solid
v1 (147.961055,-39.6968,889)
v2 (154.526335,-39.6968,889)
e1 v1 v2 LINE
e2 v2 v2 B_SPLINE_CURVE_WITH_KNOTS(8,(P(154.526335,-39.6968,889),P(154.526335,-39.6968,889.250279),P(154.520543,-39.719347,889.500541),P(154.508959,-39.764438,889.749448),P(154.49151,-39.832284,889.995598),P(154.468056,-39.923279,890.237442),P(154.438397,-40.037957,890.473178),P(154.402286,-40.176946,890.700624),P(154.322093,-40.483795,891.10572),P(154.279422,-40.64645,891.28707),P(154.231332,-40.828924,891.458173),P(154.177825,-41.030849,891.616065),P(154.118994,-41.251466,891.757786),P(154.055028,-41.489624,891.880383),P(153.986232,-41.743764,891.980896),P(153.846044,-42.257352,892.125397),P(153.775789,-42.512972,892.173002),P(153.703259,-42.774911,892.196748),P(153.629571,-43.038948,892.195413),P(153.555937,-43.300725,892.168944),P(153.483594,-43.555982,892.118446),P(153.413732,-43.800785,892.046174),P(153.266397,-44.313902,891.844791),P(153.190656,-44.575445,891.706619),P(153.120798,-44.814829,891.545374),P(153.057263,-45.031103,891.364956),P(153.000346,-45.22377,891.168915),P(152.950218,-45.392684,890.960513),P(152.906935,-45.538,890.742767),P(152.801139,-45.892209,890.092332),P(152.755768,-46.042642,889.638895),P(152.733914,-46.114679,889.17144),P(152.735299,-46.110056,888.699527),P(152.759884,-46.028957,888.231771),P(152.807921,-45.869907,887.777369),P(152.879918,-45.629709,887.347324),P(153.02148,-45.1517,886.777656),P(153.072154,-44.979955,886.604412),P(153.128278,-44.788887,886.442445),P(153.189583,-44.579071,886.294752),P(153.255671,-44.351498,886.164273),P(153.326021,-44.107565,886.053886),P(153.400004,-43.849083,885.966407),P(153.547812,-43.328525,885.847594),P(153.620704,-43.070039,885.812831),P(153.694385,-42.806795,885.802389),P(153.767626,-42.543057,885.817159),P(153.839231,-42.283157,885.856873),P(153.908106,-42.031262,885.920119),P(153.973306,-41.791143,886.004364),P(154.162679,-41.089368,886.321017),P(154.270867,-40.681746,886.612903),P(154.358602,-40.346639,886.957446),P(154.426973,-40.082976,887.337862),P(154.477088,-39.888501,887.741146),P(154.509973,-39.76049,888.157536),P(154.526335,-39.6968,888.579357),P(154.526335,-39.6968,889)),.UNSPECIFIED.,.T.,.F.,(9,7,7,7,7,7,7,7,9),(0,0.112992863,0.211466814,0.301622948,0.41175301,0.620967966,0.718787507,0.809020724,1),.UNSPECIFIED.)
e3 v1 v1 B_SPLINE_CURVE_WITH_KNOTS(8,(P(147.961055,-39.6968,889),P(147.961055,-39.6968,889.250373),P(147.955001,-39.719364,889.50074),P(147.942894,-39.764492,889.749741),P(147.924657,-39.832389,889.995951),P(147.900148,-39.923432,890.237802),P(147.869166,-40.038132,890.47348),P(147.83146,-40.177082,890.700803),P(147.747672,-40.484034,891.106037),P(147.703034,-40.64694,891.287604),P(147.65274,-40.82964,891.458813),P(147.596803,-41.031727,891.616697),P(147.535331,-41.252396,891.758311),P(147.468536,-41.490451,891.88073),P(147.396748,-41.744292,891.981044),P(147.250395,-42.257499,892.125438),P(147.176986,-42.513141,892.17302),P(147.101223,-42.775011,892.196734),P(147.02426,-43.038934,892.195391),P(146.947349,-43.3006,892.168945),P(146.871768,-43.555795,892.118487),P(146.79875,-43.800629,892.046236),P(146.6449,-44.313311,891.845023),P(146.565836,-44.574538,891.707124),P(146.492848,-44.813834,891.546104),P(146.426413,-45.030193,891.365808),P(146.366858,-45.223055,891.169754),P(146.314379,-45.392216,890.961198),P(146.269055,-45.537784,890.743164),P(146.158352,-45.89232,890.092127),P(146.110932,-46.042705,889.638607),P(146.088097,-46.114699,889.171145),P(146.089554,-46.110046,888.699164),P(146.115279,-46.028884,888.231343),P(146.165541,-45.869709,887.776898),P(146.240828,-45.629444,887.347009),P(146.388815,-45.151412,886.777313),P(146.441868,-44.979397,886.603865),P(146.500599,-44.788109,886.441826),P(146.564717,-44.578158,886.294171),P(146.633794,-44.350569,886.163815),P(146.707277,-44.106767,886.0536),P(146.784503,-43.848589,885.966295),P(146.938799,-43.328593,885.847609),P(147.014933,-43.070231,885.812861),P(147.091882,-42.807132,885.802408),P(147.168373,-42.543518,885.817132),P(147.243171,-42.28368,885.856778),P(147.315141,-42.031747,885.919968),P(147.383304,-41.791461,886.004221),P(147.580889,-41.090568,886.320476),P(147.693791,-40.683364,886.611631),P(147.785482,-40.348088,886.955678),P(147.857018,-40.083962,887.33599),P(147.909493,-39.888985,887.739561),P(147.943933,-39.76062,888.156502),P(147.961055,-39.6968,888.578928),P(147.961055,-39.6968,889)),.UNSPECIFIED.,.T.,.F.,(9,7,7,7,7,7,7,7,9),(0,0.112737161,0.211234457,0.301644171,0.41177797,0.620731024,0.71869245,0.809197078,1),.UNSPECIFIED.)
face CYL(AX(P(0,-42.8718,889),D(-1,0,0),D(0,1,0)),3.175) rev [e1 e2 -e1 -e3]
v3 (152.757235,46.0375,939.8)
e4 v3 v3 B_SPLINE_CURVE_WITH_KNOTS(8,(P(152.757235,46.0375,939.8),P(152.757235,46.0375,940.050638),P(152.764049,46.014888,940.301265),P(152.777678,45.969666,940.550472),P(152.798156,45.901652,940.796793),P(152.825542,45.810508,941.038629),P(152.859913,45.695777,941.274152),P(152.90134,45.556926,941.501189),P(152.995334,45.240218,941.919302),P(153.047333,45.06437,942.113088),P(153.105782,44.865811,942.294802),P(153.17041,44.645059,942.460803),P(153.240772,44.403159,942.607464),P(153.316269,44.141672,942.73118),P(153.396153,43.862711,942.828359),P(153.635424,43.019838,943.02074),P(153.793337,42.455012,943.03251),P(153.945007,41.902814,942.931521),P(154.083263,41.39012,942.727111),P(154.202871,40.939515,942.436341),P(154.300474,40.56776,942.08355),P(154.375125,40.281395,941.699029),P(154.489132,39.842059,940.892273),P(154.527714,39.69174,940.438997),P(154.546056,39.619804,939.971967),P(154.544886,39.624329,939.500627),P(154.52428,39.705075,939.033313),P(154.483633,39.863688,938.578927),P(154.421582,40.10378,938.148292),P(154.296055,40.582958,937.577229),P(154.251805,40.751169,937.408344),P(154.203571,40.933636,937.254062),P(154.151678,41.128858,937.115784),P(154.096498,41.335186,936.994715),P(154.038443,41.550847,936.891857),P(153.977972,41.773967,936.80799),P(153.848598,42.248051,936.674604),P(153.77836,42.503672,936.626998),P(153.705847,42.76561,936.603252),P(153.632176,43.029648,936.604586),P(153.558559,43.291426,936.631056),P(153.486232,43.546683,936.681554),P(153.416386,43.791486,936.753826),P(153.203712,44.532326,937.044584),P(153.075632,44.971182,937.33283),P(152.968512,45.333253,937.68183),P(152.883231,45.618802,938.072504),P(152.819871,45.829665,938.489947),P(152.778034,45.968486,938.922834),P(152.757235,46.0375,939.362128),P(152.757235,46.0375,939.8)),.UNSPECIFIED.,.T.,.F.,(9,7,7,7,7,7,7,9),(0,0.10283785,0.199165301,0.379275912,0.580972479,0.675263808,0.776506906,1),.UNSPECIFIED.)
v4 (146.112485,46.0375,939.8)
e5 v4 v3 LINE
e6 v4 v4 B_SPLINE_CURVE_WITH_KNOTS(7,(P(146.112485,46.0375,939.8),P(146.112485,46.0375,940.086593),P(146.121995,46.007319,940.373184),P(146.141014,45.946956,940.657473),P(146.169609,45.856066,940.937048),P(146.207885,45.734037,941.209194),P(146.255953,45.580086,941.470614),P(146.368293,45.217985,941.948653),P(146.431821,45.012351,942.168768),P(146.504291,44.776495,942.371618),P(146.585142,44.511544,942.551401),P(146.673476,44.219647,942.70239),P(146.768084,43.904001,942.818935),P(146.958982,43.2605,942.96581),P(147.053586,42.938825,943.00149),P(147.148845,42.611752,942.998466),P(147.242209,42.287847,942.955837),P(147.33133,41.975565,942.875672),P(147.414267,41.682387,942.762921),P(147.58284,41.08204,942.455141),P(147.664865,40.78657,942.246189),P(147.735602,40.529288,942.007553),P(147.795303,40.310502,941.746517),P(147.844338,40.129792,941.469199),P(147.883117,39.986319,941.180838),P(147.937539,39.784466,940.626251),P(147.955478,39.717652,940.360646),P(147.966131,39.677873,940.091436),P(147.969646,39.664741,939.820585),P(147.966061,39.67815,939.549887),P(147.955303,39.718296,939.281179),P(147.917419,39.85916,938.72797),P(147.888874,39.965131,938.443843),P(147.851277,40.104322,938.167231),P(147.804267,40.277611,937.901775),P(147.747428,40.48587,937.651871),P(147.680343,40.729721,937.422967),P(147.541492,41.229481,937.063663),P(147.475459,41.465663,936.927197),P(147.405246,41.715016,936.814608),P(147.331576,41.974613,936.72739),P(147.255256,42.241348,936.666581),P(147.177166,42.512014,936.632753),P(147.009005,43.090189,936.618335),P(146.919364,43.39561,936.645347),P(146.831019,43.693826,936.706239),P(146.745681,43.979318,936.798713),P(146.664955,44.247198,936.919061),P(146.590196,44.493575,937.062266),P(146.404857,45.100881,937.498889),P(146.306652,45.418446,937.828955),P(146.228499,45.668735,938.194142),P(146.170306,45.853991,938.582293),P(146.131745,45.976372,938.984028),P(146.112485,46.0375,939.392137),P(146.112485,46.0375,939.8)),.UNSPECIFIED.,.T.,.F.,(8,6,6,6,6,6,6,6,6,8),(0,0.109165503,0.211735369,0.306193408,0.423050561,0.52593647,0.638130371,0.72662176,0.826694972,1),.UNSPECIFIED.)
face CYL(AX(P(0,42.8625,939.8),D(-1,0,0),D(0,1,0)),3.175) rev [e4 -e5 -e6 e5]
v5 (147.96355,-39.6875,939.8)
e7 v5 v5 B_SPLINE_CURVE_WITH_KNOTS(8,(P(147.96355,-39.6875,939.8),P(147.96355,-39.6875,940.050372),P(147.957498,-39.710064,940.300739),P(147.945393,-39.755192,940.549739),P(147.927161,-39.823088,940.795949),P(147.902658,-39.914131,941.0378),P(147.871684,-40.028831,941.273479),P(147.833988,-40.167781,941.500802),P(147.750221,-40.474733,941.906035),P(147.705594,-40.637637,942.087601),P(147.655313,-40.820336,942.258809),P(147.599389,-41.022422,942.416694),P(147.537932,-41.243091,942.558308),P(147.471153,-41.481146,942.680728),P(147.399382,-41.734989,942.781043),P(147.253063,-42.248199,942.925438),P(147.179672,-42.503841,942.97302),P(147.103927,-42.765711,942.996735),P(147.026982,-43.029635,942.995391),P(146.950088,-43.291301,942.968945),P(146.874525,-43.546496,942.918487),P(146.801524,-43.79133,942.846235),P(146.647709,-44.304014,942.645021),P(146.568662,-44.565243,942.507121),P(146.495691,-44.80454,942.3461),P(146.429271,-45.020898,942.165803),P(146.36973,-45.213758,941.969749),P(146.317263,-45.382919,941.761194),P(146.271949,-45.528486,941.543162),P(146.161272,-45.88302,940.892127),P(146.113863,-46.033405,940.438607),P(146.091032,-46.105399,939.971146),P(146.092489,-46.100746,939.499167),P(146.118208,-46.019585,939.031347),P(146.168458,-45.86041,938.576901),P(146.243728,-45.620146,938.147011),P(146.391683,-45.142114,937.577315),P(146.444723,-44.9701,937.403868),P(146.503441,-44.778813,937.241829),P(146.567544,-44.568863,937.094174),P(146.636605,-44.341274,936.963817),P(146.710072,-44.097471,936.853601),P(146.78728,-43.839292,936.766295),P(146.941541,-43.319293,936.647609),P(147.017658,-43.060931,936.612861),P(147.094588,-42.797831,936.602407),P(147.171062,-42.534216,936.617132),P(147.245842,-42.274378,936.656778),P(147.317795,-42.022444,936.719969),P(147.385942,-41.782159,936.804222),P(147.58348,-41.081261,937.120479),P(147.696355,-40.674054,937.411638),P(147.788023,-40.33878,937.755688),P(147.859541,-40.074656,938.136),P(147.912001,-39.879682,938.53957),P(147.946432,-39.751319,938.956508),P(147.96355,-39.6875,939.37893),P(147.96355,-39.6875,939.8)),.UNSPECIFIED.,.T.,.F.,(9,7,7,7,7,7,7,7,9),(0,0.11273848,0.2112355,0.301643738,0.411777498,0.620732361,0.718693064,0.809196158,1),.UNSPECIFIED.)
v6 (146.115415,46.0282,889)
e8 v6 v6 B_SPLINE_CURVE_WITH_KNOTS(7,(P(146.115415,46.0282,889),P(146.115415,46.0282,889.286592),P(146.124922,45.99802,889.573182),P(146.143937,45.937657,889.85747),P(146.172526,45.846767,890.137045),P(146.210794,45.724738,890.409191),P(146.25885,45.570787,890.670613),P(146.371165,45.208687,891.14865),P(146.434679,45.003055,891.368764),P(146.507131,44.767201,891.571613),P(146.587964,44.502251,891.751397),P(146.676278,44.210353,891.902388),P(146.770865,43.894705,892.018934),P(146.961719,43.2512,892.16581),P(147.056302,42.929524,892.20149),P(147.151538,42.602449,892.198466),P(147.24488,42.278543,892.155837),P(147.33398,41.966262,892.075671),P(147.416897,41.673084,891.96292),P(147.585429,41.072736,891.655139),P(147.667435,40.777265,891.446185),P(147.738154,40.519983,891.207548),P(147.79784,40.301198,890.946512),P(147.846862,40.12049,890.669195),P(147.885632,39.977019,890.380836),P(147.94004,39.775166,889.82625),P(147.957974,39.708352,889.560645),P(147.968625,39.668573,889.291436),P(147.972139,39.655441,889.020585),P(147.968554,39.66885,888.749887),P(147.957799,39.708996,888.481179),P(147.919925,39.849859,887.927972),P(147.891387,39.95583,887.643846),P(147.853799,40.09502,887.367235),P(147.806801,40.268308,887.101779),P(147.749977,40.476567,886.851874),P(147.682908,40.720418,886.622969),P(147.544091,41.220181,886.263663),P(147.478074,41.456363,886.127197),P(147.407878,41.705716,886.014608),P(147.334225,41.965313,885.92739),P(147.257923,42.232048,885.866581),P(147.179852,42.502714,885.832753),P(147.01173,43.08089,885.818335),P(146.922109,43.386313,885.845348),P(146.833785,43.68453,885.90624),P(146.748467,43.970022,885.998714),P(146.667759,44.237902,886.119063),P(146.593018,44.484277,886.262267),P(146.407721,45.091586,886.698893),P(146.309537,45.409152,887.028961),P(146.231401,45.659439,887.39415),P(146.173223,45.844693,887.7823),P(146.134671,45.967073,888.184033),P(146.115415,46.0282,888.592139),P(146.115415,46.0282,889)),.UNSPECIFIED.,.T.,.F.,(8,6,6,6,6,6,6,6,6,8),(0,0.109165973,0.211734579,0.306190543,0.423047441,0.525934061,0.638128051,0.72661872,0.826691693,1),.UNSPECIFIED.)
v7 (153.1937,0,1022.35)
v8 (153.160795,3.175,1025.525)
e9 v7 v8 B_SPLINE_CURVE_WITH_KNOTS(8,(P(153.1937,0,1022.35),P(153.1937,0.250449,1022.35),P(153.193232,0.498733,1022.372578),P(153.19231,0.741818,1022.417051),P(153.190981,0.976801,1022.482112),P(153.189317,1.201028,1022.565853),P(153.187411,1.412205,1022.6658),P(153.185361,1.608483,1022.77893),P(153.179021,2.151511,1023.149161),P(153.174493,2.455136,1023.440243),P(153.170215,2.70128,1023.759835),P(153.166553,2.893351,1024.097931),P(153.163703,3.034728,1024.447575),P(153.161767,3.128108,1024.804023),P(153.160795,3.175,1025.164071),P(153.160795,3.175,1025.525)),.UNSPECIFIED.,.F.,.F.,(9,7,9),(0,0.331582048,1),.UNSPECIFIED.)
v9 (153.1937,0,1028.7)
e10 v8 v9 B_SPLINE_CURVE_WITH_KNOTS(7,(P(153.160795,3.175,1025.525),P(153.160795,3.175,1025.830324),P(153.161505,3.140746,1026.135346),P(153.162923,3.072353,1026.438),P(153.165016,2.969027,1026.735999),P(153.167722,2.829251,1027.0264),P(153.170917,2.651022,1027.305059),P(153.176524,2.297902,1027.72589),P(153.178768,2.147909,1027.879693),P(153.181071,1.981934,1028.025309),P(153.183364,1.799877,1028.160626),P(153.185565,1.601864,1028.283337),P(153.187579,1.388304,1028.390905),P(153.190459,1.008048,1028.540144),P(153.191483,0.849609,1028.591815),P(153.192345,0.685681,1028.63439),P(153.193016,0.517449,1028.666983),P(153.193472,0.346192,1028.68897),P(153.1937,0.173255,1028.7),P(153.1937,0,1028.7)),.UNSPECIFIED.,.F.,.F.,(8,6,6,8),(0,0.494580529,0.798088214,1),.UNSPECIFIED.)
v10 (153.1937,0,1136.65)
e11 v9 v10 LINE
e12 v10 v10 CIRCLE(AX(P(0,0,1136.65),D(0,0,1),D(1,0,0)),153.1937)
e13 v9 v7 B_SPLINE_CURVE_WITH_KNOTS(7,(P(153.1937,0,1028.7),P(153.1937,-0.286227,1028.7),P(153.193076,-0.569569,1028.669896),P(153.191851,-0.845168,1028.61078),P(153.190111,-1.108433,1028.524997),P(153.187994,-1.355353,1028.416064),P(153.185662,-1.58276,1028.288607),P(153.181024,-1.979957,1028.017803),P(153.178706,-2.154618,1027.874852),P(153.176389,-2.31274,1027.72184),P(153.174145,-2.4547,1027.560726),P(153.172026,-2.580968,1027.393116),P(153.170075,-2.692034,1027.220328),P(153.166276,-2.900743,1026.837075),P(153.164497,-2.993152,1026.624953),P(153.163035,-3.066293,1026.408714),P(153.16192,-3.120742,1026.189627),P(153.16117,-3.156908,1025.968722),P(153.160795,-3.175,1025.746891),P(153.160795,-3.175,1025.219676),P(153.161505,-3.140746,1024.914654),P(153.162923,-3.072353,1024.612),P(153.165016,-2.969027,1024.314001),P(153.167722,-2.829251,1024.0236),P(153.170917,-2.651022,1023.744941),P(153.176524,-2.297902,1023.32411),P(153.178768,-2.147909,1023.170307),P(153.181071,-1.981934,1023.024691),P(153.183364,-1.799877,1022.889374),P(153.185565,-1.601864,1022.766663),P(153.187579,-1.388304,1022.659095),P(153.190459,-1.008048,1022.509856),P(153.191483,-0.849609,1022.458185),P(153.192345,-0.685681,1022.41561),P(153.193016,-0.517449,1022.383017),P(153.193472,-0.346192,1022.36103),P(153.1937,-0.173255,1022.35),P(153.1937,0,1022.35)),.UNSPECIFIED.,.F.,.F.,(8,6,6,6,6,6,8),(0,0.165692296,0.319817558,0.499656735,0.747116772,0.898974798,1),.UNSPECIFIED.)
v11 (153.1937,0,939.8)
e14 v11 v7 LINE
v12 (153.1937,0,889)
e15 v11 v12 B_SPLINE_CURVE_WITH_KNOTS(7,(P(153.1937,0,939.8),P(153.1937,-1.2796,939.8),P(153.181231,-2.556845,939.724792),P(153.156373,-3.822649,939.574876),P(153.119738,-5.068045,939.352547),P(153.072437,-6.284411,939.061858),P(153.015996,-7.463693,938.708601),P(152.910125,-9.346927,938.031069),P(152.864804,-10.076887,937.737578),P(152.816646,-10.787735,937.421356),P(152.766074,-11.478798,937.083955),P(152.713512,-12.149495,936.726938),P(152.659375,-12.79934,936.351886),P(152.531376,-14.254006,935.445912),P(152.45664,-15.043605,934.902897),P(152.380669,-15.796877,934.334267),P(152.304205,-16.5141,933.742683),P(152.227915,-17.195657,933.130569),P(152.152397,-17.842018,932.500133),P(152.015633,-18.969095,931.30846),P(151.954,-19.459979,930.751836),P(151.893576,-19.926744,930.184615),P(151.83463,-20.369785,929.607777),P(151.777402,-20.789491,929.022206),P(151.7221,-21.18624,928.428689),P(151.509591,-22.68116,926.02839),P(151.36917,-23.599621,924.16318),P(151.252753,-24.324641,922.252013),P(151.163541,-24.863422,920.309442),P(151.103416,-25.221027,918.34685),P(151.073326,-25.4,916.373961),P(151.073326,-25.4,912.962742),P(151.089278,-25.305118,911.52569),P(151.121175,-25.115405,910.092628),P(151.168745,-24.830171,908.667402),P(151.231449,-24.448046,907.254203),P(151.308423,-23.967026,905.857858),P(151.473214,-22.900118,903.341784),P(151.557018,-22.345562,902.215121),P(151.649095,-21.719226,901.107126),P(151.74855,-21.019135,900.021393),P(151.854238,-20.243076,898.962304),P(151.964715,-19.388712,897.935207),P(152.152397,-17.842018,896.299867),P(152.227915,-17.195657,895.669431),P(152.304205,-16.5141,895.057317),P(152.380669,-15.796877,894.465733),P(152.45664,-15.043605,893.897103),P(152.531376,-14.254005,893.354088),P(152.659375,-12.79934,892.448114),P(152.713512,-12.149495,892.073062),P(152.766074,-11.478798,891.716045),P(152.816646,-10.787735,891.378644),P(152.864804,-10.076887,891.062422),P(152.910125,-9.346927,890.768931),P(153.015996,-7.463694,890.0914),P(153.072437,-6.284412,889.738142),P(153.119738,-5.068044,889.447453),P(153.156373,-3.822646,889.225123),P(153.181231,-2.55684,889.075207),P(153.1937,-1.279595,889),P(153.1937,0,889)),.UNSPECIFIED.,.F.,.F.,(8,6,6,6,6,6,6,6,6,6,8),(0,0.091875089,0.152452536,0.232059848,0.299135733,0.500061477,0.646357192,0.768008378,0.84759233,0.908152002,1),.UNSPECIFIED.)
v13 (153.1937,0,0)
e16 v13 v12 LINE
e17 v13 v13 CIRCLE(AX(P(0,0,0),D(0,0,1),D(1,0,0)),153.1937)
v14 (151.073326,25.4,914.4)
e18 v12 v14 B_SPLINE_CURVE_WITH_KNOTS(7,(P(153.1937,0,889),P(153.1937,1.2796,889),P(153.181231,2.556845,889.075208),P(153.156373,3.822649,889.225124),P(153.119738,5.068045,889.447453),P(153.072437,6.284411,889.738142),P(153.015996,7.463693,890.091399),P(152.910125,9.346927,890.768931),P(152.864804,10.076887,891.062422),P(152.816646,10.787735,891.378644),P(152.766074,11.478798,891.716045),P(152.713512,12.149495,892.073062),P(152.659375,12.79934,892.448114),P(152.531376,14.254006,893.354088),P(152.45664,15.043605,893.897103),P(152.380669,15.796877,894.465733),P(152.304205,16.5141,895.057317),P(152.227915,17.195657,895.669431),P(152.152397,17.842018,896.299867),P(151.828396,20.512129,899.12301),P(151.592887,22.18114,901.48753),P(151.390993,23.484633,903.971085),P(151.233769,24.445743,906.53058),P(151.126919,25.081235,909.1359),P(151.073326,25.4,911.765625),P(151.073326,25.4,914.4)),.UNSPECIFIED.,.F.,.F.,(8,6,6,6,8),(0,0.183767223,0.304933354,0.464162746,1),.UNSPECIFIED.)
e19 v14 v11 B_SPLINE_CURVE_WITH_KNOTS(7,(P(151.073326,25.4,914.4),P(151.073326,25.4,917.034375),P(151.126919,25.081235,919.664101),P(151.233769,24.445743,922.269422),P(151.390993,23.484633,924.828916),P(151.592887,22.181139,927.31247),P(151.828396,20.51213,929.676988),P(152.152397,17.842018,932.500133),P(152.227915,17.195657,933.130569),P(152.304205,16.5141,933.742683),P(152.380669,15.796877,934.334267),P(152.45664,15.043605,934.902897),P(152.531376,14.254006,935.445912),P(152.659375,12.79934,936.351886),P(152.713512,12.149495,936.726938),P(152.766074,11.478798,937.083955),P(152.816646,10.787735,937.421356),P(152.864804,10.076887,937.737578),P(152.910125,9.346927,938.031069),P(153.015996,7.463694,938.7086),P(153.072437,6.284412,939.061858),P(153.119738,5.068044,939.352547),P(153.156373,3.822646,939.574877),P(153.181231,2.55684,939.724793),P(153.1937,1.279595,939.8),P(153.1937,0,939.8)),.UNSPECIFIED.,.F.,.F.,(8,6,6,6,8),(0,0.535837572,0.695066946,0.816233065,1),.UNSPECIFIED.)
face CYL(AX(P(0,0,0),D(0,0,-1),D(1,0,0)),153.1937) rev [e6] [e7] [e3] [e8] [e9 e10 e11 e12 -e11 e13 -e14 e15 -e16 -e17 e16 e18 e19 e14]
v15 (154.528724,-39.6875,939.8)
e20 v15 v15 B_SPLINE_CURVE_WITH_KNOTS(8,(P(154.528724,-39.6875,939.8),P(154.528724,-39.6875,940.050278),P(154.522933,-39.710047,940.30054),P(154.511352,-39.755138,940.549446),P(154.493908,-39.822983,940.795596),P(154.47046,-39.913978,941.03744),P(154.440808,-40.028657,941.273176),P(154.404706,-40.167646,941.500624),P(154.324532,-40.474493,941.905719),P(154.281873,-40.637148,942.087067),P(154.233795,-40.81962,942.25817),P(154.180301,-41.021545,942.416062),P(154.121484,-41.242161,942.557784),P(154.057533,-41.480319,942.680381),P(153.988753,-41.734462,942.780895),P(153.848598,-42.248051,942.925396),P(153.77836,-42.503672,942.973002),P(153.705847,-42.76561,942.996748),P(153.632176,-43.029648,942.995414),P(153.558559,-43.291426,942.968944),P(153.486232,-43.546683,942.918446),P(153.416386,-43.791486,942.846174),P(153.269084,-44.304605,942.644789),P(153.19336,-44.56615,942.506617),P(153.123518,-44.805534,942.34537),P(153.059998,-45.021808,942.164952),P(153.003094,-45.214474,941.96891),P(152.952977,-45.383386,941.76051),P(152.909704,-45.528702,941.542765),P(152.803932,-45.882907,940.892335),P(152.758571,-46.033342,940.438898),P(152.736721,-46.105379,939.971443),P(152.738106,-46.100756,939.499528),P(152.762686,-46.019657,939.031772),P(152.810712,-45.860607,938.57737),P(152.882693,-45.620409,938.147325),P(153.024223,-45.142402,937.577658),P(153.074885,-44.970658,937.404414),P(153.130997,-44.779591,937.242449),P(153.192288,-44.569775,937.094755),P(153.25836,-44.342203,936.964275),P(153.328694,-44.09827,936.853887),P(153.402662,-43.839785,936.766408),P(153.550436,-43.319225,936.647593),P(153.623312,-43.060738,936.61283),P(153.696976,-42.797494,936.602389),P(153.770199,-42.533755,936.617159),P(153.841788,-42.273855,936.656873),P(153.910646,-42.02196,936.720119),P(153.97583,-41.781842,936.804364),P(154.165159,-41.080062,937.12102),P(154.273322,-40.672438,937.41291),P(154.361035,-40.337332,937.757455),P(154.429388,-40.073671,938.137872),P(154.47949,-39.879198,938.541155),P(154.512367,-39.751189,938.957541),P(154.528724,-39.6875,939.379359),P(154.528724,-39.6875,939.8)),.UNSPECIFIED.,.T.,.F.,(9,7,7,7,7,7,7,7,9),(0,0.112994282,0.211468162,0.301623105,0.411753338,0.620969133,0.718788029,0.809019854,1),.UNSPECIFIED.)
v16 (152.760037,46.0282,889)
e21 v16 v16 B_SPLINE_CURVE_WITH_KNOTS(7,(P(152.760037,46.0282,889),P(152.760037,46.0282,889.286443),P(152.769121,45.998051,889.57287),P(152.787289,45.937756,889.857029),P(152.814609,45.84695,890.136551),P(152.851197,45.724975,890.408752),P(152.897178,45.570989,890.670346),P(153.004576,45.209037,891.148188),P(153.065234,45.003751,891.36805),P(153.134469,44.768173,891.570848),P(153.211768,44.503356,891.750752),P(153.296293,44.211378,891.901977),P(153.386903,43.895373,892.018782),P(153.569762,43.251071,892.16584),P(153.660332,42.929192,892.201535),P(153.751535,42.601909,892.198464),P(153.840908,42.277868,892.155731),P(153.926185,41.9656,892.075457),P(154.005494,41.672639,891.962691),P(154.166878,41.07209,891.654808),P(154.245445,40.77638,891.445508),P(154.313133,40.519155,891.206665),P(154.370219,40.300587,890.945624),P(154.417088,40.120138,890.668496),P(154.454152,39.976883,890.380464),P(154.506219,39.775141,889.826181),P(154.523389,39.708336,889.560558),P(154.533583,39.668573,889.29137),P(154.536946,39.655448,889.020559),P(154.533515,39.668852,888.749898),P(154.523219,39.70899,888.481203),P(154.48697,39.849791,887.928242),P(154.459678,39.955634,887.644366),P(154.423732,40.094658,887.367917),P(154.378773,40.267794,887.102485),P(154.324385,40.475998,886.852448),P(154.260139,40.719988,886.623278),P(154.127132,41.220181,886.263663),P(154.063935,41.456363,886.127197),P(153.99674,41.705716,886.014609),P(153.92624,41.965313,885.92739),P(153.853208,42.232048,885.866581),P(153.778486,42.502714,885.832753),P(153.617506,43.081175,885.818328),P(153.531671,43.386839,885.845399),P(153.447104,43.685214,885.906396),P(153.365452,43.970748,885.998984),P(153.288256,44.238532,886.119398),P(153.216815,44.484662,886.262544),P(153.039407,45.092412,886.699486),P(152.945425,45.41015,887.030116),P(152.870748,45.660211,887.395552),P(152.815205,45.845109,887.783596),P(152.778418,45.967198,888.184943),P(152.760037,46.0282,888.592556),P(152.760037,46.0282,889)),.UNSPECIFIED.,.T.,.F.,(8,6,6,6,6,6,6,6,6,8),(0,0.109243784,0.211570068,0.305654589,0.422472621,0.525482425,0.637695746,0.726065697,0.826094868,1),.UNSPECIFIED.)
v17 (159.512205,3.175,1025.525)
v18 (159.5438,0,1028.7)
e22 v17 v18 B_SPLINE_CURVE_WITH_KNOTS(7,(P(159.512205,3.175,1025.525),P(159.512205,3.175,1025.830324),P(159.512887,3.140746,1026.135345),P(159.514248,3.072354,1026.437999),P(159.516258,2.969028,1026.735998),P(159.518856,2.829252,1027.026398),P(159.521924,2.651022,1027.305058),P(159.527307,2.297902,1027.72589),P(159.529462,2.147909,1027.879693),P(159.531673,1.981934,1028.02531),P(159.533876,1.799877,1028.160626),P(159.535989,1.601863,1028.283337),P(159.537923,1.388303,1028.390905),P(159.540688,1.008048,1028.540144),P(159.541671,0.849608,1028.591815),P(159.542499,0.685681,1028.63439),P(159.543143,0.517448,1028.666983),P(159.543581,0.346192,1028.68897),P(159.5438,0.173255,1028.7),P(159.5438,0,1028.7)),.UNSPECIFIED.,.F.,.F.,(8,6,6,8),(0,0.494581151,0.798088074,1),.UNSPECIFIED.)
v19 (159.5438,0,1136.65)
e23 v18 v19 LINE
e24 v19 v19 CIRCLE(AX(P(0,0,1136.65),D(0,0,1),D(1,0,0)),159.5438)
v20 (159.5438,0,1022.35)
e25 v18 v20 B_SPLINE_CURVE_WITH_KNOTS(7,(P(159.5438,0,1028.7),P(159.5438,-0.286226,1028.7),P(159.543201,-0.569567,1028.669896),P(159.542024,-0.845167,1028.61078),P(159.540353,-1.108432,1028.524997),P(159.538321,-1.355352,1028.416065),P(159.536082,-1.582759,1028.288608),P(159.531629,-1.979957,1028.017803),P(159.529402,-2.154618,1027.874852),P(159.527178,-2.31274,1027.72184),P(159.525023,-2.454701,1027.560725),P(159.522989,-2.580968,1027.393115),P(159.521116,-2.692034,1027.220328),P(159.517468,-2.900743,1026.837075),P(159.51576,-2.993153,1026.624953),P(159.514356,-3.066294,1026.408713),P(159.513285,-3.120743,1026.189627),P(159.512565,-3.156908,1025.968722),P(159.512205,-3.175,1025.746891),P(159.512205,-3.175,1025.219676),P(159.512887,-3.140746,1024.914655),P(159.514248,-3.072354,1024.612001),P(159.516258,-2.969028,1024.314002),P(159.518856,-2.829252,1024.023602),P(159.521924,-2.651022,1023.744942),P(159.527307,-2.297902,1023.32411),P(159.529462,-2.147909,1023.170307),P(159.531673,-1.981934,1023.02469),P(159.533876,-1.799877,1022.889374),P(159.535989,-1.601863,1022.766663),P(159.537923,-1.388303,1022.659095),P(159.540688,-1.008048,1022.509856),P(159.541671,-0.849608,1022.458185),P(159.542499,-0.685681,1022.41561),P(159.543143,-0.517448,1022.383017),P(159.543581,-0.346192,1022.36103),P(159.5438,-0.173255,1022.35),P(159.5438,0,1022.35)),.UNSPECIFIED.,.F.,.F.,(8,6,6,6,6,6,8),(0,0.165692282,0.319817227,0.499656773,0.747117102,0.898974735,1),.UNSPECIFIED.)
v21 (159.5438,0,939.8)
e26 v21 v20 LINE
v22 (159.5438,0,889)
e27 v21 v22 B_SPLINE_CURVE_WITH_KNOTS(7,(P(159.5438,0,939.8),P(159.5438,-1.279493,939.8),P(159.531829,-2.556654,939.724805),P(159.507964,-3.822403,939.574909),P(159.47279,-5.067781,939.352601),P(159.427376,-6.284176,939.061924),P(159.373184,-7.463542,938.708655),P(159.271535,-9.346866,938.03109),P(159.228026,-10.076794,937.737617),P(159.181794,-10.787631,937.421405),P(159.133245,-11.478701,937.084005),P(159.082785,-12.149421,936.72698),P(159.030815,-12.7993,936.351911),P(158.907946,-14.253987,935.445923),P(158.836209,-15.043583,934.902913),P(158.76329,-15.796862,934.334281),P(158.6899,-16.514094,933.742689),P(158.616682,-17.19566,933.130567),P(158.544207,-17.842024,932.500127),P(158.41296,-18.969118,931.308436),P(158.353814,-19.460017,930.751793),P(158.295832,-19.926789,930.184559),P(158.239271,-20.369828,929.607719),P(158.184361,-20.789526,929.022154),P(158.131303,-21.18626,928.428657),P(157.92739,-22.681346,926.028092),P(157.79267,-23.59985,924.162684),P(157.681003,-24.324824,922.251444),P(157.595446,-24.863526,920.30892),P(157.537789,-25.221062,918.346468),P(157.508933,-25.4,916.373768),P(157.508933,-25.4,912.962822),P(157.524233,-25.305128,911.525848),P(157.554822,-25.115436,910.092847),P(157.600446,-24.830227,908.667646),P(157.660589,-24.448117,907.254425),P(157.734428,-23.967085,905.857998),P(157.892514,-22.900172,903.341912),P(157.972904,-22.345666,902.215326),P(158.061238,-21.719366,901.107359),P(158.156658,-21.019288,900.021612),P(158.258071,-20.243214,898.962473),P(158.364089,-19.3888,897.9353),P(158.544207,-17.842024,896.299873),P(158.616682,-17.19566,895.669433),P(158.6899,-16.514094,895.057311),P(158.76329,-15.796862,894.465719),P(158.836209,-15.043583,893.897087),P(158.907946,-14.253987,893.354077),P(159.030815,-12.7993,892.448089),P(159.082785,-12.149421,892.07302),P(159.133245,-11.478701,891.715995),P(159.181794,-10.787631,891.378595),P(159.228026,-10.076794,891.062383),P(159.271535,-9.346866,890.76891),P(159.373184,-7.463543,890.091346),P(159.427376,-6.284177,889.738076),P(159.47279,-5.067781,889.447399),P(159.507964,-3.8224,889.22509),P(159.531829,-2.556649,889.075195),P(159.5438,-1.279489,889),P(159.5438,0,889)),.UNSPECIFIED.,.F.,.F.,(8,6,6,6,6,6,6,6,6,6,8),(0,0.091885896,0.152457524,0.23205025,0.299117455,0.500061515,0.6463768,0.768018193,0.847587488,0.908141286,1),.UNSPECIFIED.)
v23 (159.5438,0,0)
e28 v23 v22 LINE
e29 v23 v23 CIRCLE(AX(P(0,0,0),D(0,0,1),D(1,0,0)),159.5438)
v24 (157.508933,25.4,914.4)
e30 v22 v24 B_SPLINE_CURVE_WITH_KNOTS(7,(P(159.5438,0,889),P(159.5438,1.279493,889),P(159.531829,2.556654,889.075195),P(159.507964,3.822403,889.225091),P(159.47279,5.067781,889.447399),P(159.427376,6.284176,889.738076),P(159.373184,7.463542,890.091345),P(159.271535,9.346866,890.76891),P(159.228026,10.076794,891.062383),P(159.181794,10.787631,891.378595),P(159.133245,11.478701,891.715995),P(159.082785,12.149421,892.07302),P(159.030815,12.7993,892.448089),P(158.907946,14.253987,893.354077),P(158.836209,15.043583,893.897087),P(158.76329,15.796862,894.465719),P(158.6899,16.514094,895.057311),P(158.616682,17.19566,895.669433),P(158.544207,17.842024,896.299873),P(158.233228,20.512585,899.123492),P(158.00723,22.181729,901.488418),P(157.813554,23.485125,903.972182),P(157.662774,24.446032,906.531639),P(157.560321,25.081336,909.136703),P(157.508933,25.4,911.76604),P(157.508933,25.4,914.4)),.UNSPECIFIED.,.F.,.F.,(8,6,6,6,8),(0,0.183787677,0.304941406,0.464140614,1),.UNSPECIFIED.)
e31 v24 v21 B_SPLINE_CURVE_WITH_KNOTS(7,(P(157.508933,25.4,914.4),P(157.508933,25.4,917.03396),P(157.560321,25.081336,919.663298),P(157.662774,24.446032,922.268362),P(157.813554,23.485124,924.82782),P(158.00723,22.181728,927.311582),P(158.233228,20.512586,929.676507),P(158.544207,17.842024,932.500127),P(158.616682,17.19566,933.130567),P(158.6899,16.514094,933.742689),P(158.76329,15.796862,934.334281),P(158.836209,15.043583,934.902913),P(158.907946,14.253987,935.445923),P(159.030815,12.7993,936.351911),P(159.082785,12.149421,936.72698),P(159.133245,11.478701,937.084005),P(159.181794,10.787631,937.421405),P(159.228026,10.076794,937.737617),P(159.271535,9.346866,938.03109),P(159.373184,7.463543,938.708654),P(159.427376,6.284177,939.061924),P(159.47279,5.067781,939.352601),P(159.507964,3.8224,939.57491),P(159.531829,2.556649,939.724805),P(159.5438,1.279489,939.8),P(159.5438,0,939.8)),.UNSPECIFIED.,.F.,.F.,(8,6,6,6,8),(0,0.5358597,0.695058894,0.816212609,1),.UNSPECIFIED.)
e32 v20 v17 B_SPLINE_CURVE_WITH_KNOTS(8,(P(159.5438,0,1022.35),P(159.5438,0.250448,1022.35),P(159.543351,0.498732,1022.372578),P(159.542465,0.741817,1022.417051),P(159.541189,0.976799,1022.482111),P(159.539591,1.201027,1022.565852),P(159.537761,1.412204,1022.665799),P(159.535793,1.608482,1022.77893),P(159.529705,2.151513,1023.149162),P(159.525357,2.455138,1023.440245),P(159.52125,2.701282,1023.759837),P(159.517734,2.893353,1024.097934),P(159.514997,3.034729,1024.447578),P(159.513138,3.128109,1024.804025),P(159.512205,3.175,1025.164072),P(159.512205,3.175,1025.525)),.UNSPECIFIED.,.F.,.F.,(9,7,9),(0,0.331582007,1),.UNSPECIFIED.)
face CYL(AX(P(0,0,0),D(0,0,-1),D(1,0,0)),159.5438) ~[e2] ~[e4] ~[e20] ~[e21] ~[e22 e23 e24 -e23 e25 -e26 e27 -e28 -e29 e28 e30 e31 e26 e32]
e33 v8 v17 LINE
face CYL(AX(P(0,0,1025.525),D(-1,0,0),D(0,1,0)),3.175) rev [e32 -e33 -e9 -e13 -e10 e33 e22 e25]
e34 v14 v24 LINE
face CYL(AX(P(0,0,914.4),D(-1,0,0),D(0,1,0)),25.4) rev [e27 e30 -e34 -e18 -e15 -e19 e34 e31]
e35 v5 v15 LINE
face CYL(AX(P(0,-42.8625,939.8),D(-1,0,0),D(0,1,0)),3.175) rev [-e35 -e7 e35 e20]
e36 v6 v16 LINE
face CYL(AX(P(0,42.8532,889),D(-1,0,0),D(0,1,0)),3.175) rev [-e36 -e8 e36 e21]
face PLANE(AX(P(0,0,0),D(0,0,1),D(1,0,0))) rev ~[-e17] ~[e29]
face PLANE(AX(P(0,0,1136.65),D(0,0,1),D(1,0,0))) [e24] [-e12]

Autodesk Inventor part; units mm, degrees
ref_plane "YZ Plane" through (0, 0, 0) normal (1, 0, 0) x (0, 1, 0)
ref_plane "XZ Plane" through (0, 0, 0) normal (0, 1, 0) x (-1, 0, 0)
ref_plane "XY Plane" through (0, 0, 0) normal (0, 0, 1) x (1, 0, 0)
sketch "Sketch1" plane through (0, 0, 0) normal (0, 0, 1) x (1, 0, 0)
  circle A0 centre (0, 0) radius 161.1312
  circle A1 centre (0, 0) radius 151.6062
  circle A2 centre (0, 0) radius 153.1937
  circle A3 centre (0, 0) radius 159.5438
  dimension "d2" = 9.525
  dimension "d3" = 303.2125
  dimension "d4" = 322.2625
  dimension "d13" = 306.3875
  dimension "d14" = 319.0875
  dimension "d15" = 6.35
  dimension "d16" = 1.5875
  dimension "d35" = 0
extrude "Extrusion1" add sketch "Sketch1" along normal blind 1136.65 contours A3
sketch "Sketch2" plane through (0, 0, 0) normal (1, 0, 0) x (0, 1, 0)
  circle A0 centre (0, 914.4) radius 25.4
  line L0 (159.5438, 1136.65) -> (-159.5438, 1136.65) projected
  circle A1 centre (0, 1025.525) radius 3.175
  circle A2 centre (42.8625, 939.8) radius 3.175
  circle A3 centre (-42.8625, 939.8) radius 3.175
  circle A4 centre (42.8532, 889) radius 3.175
  circle A5 centre (-42.8718, 889) radius 3.175
  point P0 (0, 0)
  point P1 (0, 1136.65)
  dimension "d21" = 50.8
  dimension "d22" = 222.25
  dimension "d23" = 6.35
  dimension "d24" = 111.125
  dimension "d25" = 6.35
  dimension "d26" = 6.35
  dimension "d27" = 85.725
  dimension "d28" = 42.8625
  dimension "d29" = 6.35
  dimension "d30" = 6.35
  dimension "d31" = 85.725
  dimension "d32" = 50.8
extrude "Extrusion3" cut sketch "Sketch2" along normal through all
properties part number "tube"
